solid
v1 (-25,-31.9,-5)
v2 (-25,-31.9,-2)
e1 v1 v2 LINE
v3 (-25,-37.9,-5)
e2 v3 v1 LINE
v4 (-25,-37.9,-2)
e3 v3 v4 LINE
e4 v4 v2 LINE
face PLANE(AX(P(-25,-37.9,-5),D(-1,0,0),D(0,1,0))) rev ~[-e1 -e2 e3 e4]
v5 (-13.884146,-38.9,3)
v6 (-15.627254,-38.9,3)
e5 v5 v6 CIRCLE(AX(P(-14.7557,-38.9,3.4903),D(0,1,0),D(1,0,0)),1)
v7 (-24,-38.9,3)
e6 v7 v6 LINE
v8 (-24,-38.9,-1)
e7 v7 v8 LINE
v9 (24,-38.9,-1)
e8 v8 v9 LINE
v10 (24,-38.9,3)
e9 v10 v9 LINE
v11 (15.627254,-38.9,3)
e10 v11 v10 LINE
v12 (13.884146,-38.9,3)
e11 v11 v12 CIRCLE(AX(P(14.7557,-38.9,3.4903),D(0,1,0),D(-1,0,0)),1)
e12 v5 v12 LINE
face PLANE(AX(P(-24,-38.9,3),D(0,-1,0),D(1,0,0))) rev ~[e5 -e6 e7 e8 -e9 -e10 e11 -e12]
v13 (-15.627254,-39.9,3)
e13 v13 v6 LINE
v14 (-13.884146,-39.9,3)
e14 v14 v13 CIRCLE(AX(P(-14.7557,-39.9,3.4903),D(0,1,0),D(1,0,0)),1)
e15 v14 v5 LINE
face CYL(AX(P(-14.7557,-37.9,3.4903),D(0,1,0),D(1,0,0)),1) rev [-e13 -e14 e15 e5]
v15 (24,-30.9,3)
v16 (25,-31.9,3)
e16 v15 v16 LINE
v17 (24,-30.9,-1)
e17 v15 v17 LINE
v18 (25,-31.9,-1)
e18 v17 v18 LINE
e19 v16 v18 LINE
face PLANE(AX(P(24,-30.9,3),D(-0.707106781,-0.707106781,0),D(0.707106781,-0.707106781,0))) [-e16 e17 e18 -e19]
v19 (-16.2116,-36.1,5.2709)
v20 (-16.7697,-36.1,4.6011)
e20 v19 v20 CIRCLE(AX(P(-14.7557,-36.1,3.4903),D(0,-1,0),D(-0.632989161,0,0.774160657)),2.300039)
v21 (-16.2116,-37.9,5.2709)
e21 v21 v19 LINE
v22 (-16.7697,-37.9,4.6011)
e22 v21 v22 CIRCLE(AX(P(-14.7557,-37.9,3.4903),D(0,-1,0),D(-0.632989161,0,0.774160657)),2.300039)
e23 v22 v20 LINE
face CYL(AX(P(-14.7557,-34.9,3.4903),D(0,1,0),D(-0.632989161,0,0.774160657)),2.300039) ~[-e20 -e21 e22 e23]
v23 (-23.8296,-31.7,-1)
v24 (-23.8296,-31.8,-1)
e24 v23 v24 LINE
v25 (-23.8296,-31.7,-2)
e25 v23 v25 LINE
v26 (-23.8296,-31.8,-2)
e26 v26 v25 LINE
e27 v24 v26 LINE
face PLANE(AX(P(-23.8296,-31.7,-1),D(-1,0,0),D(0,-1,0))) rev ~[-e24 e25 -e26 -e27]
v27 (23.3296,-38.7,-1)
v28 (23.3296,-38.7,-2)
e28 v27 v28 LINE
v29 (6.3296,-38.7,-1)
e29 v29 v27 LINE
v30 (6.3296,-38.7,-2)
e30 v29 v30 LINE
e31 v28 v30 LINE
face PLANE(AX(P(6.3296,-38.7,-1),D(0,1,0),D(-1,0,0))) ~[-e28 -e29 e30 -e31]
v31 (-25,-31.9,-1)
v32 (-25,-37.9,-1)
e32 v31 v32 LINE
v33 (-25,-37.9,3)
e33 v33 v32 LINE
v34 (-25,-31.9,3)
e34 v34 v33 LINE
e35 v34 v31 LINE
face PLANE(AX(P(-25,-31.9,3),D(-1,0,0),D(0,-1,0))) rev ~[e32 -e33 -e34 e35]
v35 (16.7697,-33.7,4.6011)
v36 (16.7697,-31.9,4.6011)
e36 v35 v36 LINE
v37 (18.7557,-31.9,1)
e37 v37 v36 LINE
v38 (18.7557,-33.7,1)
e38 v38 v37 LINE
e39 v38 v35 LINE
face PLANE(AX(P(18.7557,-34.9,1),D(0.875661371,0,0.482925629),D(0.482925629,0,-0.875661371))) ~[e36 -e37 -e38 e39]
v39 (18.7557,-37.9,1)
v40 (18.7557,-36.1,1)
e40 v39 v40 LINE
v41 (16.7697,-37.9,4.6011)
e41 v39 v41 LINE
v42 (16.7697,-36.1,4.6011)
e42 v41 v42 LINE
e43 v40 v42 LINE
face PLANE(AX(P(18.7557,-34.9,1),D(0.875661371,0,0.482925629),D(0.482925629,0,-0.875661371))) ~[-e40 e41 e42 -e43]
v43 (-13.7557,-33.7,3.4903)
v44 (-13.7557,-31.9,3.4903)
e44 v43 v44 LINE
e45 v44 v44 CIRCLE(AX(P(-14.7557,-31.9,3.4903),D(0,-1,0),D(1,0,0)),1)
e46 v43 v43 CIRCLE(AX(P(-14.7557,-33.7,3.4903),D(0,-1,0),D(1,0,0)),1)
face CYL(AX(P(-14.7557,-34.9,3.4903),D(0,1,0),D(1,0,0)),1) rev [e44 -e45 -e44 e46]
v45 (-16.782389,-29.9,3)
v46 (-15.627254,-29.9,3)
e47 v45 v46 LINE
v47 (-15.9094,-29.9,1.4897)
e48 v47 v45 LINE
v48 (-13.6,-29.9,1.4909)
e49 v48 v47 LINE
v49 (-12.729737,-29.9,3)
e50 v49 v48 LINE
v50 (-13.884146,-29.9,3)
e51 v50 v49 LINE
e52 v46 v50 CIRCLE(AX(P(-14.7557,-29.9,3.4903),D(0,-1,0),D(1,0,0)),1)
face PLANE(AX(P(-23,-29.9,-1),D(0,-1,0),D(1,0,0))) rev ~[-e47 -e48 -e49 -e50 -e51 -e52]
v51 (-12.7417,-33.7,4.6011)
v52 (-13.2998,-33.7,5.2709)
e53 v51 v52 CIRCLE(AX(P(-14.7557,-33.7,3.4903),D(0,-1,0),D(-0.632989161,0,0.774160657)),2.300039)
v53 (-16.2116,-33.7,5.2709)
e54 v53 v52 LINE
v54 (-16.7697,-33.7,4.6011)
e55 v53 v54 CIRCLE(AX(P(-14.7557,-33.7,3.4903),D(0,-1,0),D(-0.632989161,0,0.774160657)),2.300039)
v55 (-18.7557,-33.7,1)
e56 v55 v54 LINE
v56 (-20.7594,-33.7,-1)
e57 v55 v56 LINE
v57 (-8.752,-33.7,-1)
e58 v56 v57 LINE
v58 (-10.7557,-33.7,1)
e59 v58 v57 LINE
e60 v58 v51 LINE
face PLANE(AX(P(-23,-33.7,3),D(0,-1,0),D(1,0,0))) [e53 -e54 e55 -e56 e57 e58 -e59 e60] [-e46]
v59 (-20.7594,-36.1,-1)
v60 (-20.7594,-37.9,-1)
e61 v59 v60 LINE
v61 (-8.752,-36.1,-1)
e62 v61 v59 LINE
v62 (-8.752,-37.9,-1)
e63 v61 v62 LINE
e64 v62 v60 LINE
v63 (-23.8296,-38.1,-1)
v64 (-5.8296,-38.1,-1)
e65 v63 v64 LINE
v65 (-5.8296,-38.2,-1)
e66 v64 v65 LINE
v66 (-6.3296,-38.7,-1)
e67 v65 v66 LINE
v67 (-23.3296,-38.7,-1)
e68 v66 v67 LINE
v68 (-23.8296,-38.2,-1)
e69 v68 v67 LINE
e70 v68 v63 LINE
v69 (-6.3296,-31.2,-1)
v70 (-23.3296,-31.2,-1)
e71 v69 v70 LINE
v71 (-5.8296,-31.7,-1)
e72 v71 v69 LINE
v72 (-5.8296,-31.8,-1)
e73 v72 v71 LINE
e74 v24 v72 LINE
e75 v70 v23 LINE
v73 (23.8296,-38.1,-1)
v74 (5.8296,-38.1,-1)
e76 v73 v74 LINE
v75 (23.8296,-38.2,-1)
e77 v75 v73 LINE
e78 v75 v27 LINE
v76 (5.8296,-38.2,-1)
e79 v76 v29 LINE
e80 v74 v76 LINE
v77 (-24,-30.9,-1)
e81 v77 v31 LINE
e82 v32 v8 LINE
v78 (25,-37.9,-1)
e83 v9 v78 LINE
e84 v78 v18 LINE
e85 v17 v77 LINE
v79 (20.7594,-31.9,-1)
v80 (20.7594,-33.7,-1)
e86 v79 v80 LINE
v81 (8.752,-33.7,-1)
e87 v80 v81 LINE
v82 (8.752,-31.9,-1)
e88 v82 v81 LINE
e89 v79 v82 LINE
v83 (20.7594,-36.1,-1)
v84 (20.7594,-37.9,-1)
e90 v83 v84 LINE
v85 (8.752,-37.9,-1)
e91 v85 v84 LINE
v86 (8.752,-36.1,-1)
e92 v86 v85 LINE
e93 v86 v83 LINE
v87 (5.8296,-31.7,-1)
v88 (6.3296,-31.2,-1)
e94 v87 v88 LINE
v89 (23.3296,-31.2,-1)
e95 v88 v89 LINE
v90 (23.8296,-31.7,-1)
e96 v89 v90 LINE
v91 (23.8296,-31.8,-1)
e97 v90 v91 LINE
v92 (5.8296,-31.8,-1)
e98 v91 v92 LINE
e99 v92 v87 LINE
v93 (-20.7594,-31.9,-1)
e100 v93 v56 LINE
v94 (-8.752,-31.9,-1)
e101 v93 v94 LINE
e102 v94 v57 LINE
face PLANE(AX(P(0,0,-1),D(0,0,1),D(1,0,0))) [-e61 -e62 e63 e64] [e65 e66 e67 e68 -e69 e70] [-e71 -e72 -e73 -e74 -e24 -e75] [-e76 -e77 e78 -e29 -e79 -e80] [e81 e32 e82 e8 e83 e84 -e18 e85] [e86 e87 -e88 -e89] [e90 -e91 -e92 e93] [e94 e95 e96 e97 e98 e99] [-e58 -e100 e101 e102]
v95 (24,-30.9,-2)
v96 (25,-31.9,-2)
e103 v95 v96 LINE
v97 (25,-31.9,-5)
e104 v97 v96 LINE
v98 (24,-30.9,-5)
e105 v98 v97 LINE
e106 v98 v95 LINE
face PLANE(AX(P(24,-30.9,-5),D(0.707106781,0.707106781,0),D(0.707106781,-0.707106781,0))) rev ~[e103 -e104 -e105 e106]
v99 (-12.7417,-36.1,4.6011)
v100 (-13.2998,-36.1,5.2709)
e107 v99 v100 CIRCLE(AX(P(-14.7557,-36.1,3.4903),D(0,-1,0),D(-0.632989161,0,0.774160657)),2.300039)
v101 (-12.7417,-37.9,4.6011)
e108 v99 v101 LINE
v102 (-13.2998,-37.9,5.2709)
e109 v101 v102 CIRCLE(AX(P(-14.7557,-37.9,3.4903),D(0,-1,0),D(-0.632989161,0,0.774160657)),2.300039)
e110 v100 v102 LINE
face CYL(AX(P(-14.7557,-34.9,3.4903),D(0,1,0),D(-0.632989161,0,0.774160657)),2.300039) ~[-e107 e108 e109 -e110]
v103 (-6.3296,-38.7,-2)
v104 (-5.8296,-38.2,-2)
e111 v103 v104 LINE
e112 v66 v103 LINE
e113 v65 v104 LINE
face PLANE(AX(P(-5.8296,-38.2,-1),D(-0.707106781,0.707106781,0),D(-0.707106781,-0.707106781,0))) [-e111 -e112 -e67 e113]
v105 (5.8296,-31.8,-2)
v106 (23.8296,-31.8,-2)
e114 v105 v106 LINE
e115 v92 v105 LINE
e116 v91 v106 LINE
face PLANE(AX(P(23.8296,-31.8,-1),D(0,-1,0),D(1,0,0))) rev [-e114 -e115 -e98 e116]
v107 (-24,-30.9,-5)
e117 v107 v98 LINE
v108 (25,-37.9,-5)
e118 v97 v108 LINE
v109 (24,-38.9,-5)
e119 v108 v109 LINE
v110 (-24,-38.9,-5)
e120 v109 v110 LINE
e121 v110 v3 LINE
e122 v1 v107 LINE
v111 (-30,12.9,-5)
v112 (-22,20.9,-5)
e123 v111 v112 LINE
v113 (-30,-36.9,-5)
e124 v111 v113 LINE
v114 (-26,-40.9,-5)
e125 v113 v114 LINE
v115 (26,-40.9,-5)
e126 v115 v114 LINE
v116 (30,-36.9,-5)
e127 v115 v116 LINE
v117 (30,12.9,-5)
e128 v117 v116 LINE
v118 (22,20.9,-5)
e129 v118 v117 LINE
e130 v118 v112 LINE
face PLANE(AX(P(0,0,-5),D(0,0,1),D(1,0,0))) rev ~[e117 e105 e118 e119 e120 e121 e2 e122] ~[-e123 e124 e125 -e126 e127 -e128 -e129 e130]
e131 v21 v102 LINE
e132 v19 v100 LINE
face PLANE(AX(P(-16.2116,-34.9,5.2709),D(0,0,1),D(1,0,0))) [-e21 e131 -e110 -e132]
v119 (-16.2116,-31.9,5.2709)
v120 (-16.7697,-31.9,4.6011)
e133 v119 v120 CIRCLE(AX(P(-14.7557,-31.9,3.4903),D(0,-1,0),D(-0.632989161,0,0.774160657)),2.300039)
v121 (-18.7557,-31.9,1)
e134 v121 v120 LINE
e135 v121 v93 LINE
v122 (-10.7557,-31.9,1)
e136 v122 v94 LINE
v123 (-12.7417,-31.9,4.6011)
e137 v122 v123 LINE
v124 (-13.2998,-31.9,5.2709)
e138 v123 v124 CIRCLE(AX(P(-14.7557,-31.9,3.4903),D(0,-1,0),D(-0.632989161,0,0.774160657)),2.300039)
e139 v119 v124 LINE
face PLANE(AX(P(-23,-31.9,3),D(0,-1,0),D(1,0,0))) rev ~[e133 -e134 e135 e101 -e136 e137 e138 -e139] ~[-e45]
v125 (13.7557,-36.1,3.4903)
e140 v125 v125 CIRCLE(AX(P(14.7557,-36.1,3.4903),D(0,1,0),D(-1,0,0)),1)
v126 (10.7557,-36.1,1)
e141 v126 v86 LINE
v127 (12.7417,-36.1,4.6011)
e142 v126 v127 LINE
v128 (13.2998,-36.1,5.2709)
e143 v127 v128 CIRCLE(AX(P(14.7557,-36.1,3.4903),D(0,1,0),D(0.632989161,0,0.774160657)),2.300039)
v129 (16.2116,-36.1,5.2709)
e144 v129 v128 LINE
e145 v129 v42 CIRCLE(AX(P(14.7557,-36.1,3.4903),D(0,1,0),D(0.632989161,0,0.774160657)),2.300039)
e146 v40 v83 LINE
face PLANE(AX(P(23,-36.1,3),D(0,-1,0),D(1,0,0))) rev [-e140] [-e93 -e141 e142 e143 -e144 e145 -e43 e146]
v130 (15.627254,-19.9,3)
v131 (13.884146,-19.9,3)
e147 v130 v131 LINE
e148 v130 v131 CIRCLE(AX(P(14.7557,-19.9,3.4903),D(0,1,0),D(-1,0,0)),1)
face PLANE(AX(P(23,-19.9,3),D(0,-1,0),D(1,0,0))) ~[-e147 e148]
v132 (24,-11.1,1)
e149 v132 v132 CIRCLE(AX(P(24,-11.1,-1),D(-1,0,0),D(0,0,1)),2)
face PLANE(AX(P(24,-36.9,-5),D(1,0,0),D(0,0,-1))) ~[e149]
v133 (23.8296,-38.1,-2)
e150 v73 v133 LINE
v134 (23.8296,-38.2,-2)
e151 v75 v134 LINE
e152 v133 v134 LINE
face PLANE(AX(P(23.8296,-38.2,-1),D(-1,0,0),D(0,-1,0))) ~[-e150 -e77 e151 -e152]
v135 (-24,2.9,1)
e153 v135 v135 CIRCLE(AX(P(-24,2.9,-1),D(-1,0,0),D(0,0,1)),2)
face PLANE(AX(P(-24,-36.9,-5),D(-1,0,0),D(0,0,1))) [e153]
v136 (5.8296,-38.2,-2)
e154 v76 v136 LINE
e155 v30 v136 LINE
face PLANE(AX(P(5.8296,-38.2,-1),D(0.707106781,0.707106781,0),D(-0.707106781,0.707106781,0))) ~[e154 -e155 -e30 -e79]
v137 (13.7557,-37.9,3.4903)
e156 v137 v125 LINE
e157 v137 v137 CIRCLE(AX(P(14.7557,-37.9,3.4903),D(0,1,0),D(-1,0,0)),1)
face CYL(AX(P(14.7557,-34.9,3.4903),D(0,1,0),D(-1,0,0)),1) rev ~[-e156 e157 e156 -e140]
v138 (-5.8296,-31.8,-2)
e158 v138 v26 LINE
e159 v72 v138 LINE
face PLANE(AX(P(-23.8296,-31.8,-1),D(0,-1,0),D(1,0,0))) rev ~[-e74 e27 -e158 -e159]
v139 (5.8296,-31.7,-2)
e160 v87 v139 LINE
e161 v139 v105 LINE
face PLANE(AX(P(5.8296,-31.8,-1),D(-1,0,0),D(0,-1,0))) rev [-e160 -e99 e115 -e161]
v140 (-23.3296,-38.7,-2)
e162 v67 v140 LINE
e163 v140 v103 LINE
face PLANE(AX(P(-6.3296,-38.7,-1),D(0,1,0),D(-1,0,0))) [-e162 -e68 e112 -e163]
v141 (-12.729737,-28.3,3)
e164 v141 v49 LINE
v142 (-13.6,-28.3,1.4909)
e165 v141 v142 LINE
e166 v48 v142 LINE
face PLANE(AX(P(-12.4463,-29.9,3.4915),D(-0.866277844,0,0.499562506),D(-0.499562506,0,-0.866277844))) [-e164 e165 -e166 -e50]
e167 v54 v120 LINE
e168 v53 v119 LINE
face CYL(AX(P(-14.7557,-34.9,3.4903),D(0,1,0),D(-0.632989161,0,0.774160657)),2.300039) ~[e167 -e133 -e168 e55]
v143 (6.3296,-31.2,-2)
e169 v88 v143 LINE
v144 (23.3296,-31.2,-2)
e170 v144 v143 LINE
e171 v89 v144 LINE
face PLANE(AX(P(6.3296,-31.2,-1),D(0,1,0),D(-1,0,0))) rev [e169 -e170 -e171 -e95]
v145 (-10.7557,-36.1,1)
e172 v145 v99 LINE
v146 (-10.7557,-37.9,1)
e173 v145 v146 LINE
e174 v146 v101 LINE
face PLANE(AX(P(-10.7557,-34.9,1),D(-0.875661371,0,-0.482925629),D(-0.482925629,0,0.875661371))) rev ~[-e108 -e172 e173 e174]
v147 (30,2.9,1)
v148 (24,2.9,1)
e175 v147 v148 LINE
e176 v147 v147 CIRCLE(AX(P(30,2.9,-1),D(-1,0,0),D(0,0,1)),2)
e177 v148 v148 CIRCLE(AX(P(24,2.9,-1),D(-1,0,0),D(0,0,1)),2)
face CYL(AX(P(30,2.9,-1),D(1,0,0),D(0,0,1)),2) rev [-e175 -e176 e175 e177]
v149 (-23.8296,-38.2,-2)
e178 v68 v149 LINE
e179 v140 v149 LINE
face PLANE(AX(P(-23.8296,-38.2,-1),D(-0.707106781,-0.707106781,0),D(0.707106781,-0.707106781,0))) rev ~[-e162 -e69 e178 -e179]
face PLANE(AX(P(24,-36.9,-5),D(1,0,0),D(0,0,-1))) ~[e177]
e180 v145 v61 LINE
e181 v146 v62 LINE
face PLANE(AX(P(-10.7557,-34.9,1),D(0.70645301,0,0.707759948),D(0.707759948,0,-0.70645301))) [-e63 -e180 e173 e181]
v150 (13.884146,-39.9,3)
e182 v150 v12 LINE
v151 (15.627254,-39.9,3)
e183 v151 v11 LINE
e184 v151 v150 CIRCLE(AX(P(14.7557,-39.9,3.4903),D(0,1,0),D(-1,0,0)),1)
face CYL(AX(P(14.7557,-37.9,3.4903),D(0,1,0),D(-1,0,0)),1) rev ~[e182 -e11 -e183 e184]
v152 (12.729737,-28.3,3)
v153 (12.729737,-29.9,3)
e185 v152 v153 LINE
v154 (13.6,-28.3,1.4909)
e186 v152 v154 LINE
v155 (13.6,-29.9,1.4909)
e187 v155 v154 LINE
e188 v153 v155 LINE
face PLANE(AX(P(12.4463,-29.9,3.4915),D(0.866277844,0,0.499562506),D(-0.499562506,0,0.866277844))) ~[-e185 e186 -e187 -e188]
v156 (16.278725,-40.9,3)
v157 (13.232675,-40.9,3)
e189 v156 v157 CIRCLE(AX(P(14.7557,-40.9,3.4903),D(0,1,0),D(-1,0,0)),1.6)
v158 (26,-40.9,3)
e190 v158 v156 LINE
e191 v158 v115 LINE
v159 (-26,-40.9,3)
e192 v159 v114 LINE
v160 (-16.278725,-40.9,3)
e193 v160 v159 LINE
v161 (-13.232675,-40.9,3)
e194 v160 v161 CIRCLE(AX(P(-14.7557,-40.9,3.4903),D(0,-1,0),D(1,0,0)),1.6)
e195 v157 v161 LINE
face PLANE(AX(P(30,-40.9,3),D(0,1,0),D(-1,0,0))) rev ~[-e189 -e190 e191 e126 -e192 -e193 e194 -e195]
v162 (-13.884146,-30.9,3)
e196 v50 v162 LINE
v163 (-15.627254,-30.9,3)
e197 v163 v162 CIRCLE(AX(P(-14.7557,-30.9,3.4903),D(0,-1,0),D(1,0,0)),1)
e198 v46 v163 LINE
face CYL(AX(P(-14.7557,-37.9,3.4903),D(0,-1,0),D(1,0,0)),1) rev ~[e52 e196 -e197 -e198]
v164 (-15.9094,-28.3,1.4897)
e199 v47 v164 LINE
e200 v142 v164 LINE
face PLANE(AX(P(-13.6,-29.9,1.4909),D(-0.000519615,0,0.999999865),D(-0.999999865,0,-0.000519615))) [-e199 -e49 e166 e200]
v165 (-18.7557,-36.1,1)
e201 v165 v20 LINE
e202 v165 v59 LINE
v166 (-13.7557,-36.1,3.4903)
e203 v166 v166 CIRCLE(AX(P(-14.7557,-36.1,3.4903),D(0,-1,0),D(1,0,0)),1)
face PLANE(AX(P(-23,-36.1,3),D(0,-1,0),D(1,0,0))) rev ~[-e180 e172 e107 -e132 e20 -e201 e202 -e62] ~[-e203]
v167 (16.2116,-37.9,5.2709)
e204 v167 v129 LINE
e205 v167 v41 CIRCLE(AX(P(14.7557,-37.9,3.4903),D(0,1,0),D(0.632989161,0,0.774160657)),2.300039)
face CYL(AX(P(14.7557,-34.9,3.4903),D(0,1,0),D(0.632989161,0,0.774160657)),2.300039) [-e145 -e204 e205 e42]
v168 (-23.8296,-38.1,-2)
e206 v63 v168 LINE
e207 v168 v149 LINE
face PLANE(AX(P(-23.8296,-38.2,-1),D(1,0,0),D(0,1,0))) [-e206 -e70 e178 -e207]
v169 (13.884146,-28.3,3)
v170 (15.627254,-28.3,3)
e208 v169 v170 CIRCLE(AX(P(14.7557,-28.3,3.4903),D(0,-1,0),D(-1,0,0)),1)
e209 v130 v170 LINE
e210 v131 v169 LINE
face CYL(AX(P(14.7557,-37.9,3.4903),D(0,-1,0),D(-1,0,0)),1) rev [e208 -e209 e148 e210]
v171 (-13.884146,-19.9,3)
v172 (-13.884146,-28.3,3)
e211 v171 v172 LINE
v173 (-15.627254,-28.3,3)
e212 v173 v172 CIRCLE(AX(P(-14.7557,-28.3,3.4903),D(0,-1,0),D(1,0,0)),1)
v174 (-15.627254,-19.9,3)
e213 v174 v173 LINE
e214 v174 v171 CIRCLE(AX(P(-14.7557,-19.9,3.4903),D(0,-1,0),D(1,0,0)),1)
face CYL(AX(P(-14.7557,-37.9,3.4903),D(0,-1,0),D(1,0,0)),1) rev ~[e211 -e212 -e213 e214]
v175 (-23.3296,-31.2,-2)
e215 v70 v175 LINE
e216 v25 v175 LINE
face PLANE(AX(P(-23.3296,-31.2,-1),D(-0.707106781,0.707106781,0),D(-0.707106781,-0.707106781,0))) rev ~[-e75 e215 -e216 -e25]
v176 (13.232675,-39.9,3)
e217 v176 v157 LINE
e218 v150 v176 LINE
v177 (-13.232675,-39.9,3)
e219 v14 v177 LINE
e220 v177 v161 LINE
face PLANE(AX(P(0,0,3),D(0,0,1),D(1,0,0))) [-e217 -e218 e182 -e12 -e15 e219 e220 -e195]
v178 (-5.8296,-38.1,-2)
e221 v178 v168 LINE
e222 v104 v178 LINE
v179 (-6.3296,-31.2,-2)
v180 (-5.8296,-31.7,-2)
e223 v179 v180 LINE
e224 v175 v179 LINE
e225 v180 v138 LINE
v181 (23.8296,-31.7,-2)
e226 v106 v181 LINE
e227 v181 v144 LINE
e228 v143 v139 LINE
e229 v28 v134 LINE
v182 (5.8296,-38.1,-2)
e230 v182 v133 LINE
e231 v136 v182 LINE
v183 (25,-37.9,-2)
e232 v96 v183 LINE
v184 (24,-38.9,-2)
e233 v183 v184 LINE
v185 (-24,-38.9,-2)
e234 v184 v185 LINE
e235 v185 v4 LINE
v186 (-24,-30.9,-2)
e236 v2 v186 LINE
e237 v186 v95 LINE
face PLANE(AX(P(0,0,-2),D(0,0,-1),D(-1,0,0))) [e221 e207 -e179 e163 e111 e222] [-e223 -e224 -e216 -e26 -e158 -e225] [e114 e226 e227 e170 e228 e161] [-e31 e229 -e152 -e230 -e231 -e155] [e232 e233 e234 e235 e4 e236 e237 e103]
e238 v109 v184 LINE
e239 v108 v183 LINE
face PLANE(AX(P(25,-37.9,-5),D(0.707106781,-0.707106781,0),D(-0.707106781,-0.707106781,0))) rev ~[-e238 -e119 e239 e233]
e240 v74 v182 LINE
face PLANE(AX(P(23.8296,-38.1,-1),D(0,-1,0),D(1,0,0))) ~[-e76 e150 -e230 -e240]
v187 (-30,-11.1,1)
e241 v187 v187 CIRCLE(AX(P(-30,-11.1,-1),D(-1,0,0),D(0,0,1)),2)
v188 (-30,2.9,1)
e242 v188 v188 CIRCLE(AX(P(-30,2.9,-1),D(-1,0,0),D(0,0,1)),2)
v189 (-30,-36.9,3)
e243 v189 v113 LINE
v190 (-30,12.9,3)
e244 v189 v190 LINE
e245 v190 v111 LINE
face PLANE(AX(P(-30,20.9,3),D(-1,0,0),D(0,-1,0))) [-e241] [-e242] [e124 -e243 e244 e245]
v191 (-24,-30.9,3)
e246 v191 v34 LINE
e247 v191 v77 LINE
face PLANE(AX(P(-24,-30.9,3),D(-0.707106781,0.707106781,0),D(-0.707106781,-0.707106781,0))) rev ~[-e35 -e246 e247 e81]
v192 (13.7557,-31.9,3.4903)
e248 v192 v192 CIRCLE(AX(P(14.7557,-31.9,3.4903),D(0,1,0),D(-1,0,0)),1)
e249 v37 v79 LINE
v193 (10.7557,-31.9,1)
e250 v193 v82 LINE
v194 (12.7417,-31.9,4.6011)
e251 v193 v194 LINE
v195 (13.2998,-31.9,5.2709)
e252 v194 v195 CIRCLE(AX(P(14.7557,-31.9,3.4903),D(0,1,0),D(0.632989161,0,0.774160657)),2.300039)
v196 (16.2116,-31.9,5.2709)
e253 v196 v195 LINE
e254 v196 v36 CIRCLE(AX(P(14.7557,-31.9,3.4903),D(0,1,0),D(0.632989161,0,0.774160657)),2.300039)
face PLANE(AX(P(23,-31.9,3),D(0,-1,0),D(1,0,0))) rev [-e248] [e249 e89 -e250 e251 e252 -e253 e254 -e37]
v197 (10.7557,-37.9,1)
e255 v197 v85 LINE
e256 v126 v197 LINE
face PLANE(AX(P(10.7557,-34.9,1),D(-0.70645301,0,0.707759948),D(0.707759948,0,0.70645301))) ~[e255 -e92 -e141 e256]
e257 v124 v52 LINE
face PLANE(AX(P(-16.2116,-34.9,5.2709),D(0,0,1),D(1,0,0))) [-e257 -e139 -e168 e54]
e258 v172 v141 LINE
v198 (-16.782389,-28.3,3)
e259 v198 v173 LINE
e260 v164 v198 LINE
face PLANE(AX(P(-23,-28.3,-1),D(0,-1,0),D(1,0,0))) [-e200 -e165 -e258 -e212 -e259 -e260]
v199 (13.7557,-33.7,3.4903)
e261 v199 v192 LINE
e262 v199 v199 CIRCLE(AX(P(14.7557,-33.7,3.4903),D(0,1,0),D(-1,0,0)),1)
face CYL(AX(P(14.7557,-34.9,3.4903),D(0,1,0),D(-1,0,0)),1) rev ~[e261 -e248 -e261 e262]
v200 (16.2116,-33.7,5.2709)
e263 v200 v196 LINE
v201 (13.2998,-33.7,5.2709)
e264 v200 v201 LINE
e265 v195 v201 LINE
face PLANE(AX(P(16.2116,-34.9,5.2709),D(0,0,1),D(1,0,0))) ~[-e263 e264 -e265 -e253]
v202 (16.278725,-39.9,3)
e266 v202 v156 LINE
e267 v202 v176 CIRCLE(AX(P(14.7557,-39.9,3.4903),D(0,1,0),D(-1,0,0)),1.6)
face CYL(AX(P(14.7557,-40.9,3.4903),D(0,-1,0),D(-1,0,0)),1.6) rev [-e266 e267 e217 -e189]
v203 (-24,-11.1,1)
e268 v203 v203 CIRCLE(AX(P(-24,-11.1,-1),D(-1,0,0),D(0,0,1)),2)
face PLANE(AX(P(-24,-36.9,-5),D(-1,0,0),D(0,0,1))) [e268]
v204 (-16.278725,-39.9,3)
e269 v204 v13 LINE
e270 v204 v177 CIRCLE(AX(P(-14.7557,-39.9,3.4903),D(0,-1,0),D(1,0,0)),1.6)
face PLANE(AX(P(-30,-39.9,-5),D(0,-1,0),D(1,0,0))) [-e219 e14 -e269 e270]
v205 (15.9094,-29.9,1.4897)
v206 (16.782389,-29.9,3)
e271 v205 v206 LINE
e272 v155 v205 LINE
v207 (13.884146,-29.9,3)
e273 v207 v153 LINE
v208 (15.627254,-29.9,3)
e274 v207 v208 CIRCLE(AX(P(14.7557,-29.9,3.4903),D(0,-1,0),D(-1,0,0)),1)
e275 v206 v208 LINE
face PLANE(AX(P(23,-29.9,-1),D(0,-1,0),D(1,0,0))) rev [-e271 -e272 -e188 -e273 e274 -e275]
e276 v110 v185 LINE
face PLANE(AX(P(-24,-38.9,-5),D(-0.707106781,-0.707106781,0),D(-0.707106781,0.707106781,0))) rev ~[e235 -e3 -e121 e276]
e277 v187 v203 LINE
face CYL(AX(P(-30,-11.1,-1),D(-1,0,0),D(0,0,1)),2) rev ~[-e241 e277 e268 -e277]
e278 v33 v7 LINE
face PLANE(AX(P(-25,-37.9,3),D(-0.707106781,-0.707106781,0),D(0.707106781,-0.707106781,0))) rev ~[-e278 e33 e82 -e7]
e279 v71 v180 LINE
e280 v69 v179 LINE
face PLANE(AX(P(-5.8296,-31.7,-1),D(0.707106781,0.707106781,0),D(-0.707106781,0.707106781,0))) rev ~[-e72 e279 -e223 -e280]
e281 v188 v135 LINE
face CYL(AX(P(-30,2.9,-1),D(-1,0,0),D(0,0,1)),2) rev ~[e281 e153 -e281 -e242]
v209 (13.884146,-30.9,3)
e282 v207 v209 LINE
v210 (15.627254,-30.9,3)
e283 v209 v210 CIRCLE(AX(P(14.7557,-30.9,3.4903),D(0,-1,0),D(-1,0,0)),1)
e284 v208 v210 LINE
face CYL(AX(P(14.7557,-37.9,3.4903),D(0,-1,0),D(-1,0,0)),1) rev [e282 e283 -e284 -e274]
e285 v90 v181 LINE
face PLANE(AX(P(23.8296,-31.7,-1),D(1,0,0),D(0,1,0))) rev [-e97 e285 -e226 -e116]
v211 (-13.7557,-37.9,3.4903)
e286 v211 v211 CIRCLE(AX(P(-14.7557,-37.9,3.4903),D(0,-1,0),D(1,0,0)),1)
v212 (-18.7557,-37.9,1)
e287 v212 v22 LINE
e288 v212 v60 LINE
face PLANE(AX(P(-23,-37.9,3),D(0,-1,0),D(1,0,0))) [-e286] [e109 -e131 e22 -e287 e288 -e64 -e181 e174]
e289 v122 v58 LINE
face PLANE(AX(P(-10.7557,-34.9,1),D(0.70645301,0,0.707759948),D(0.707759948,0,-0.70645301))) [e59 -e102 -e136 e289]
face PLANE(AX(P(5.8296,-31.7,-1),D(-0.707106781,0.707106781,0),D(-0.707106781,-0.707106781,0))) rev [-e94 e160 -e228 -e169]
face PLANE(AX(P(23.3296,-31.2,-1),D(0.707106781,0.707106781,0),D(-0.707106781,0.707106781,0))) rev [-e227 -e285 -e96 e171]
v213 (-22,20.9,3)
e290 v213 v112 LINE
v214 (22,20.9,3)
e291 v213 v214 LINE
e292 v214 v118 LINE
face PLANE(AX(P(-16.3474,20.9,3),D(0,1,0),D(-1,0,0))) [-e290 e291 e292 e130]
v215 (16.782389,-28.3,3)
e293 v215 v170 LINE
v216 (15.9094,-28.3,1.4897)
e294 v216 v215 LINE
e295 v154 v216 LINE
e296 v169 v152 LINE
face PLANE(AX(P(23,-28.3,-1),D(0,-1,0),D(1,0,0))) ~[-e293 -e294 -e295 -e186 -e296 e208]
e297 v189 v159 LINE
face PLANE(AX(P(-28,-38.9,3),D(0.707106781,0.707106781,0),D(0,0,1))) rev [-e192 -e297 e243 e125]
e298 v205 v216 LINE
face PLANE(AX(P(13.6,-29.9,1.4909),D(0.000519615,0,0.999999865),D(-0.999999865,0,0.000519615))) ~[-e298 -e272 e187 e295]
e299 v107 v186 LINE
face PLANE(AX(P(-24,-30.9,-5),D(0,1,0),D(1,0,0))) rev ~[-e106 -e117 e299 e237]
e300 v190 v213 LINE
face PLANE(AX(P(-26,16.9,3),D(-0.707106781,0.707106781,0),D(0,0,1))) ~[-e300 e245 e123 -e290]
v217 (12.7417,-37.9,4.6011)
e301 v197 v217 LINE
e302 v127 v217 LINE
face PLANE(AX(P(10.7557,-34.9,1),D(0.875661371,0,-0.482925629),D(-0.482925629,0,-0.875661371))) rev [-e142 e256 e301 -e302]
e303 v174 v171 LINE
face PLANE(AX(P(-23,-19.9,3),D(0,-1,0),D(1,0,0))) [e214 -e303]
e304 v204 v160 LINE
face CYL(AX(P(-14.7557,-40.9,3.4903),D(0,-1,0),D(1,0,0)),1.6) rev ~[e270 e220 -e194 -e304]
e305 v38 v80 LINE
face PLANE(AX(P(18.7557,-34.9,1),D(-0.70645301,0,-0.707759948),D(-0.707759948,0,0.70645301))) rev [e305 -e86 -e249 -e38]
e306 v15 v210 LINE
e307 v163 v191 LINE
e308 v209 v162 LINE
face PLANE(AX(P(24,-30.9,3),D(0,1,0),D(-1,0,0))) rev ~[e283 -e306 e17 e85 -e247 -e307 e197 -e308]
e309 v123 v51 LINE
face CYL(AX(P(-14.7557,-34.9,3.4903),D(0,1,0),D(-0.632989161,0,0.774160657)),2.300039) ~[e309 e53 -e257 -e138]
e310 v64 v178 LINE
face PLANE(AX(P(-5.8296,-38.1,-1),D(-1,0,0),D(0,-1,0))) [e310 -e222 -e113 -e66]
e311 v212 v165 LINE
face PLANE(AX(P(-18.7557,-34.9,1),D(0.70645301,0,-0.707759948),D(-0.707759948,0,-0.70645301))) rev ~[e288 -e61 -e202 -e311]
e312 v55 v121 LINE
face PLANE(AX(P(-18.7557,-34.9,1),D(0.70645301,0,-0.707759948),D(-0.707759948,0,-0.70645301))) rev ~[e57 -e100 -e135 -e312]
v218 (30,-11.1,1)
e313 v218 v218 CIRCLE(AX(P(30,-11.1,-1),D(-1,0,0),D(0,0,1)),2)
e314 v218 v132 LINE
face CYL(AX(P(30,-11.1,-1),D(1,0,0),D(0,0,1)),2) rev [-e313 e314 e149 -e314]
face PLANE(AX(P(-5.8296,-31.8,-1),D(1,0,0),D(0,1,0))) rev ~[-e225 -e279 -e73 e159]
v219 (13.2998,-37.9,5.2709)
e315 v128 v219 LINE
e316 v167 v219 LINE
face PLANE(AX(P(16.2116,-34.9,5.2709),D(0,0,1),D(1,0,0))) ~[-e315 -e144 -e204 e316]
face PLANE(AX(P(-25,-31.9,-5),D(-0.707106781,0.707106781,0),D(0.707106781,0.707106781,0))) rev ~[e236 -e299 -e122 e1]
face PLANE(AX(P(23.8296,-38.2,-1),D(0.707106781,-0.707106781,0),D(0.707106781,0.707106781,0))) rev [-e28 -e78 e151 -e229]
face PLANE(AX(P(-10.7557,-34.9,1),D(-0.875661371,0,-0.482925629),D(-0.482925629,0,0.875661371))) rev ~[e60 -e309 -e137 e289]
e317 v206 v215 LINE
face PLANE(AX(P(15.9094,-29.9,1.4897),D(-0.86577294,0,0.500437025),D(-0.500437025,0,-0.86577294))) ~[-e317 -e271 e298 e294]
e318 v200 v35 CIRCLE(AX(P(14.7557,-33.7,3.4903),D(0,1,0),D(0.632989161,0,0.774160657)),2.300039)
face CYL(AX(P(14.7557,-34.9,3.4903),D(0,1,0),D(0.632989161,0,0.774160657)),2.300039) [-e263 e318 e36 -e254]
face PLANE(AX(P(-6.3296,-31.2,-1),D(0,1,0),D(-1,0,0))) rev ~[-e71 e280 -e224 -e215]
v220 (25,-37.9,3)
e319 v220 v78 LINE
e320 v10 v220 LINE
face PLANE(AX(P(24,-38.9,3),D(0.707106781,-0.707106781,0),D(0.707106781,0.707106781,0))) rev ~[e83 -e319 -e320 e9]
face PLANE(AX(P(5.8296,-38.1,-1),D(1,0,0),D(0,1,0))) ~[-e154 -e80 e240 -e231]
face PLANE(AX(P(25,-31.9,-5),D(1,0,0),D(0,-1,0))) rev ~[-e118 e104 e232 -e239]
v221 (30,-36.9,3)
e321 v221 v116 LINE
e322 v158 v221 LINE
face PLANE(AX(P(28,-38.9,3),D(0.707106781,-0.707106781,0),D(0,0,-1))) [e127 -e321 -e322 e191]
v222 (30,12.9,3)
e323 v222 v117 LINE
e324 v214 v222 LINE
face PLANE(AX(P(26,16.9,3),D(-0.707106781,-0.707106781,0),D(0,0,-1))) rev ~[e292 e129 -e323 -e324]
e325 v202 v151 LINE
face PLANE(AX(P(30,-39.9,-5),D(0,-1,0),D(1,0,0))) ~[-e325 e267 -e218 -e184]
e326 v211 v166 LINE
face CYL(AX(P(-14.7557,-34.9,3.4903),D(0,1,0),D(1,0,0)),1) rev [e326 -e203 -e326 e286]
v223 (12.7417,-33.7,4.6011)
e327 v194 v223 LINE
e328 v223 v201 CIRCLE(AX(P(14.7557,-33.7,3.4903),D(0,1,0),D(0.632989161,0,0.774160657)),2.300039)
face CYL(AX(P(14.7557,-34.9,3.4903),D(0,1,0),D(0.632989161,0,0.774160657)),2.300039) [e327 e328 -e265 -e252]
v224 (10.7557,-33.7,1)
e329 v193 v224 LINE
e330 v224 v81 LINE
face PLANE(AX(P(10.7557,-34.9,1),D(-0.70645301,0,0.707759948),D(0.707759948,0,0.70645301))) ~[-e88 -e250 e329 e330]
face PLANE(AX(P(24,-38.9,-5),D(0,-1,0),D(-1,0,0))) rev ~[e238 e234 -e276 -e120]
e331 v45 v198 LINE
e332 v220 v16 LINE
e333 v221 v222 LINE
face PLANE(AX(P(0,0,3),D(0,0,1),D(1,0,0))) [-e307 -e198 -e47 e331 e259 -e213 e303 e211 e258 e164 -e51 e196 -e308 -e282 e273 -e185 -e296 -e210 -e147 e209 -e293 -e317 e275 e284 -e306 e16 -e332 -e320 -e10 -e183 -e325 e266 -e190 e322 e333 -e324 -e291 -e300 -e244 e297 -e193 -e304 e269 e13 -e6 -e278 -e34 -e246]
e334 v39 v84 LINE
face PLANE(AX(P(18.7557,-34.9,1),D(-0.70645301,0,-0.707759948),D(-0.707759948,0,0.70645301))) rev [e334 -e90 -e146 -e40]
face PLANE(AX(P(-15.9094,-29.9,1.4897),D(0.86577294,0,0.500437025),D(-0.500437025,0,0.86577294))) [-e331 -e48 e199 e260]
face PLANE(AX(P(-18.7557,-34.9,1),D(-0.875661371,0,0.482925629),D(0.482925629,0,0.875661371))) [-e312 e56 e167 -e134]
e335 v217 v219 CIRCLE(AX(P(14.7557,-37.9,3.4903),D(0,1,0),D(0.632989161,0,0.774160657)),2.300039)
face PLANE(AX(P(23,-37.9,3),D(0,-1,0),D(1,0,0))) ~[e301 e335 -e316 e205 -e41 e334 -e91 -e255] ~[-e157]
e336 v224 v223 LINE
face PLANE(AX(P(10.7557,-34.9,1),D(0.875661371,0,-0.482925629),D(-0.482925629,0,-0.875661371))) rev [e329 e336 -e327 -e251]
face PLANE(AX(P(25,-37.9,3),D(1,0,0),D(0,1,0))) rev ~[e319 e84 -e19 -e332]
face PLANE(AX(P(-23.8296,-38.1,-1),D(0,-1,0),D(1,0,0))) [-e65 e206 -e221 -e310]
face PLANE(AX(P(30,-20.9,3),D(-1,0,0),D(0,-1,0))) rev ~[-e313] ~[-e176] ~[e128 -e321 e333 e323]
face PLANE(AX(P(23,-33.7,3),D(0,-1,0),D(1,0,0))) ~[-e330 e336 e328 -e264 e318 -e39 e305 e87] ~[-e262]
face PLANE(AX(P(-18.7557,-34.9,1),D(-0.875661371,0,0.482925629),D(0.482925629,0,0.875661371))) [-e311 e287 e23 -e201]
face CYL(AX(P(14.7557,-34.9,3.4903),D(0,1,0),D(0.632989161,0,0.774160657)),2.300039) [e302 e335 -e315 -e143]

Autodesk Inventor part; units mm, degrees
sketch "Эскиз1" plane through (0, 0, 0) normal (0, 0, 1) x (1, 0, 0)
  line L0 (16.9838, 20.6364) -> (20.6364, 16.9838) projected
  arc A0 (16.9838, 20.6364) -> (16.3474, 20.9) centre (16.3474, 20) ccw projected
  line L1 (-16.3474, 20.9) -> (16.3474, 20.9) projected
  arc A1 (-16.3474, 20.9) -> (-16.9838, 20.6364) centre (-16.3474, 20) ccw projected
  line L2 (-20.6364, 16.9838) -> (-16.9838, 20.6364) projected
  arc A2 (-20.6364, 16.9838) -> (-20.9, 16.3474) centre (-20, 16.3474) ccw projected
  line L3 (-20.9, -16.3474) -> (-20.9, 16.3474) projected
  arc A3 (-20.9, -16.3474) -> (-20.6364, -16.9838) centre (-20, -16.3474) ccw projected
  line L4 (-16.9838, -20.6364) -> (-20.6364, -16.9838) projected
  arc A4 (-16.9838, -20.6364) -> (-16.3474, -20.9) centre (-16.3474, -20) ccw projected
  line L5 (16.3474, -20.9) -> (-16.3474, -20.9) projected
  arc A5 (16.3474, -20.9) -> (16.9838, -20.6364) centre (16.3474, -20) ccw projected
  line L6 (20.6364, -16.9838) -> (16.9838, -20.6364) projected
  arc A6 (20.6364, -16.9838) -> (20.9, -16.3474) centre (20, -16.3474) ccw projected
  line L7 (20.9, 16.3474) -> (20.9, -16.3474) projected
  arc A7 (20.9, 16.3474) -> (20.6364, 16.9838) centre (20, 16.3474) ccw projected
  circle A8 centre (15.5574, -15.5574) radius 1.45 projected
  circle A9 centre (0, 0) radius 11 projected
  circle A10 centre (-15.5574, -15.5574) radius 1.45 projected
  circle A11 centre (-15.5574, 15.5574) radius 1.45 projected
  circle A12 centre (15.5574, 15.5574) radius 1.45 projected
  point P0 (0, 0)
extrude "Выдавливание1" add sketch "Эскиз1" along normal blind 3
sketch "Эскиз2" plane through (0, 0, 3) normal (0, 0, 1) x (1, 0, 0)
  line L0 (16.3474, 20.9) -> (-16.3474, 20.9) construction
  line L1 (-30, -20.9) -> (30, -20.9)
  line L2 (30, -20.9) -> (30, 20.9)
  line L3 (30, 20.9) -> (-30, 20.9)
  line L4 (-30, 20.9) -> (-30, -20.9)
  circle A0 centre (0, 0) radius 11 construction
  line L5 (-30, -20.9) -> (30, 20.9) construction
  line L6 (30, -20.9) -> (-30, 20.9) construction
  line L7 (-30, -20.9) -> (30, -20.9)
  line L8 (30, -20.9) -> (30, -40.9)
  line L9 (30, -40.9) -> (-30, -40.9)
  line L10 (-30, -40.9) -> (-30, -20.9)
  line L11 (-16.9838, 20.6364) -> (-20.6364, 16.9838) projected
  arc A1 (-20.6364, 16.9838) -> (-20.9, 16.3474) centre (-20, 16.3474) ccw projected
  line L12 (-20.9, 16.3474) -> (-20.9, -16.3474) projected
  arc A2 (-20.9, -16.3474) -> (-20.6364, -16.9838) centre (-20, -16.3474) ccw projected
  line L13 (-20.6364, -16.9838) -> (-16.9838, -20.6364) projected
  arc A3 (-16.9838, -20.6364) -> (-16.3474, -20.9) centre (-16.3474, -20) ccw projected
  line L14 (-16.3474, -20.9) -> (16.3474, -20.9) projected
  arc A4 (16.3474, -20.9) -> (16.9838, -20.6364) centre (16.3474, -20) ccw projected
  line L15 (16.9838, -20.6364) -> (20.6364, -16.9838) projected
  arc A5 (20.6364, -16.9838) -> (20.9, -16.3474) centre (20, -16.3474) ccw projected
  line L16 (20.9, -16.3474) -> (20.9, 16.3474) projected
  arc A6 (20.9, 16.3474) -> (20.6364, 16.9838) centre (20, 16.3474) ccw projected
  line L17 (20.6364, 16.9838) -> (16.9838, 20.6364) projected
  arc A7 (16.9838, 20.6364) -> (16.3474, 20.9) centre (16.3474, 20) ccw projected
  line L18 (16.3474, 20.9) -> (-16.3474, 20.9) projected
  arc A8 (-16.3474, 20.9) -> (-16.9838, 20.6364) centre (-16.3474, 20) ccw projected
  circle A9 centre (0, 0) radius 11 construction
  circle A10 centre (15.5574, 15.5574) radius 1.45 construction
  circle A11 centre (-15.5574, 15.5574) radius 1.45 construction
  circle A12 centre (-15.5574, -15.5574) radius 1.45 construction
  circle A13 centre (15.5574, -15.5574) radius 1.45 construction
  dimension "d4" = 60
  dimension "d5" = 60
  dimension "d6" = 20
extrude "Выдавливание2" add sketch "Эскиз2" against normal blind 8
sketch "Эскиз5" plane through (0, 0, 3) normal (0, 0, 1) x (1, 0, 0)
  line L0 (30, -40.9) -> (-30, -40.9) construction
  line L1 (0, -40.9) -> (0, 20.9) construction
  line L2 (24, -30.9) -> (-24, -30.9)
  line L3 (-25, -31.9) -> (-25, -37.9)
  line L4 (-24, -38.9) -> (24, -38.9)
  line L5 (25, -37.9) -> (25, -31.9)
  line L6 (25, -30.9) -> (-25, -38.9) construction
  line L7 (-25, -30.9) -> (25, -38.9) construction
  line L8 (24, -30.9) -> (25, -31.9)
  line L9 (24, -38.9) -> (25, -37.9)
  line L10 (-25, -37.9) -> (-24, -38.9)
  line L11 (-24, -30.9) -> (-25, -31.9)
  point P0 (0, 0)
  point P1 (0, -34.9)
  dimension "d29" = 50
  dimension "d30" = 8
  dimension "d33" = 2
  dimension "d91" = 1
  dimension "d92" = 1
  dimension "d93" = 1
  dimension "d94" = 1
  dimension "d95" = 1
  dimension "d96" = 1
  dimension "d97" = 1
  dimension "d98" = 1
extrude "Выдавливание5" cut sketch "Эскиз5" against normal blind 4
ref_plane "РабПлоскость2" through (-23, -34.9, 3) normal (0, -1, 0) x (1, 0, 0)
sketch "Эскиз6" plane through (-23, -34.9, 3) normal (0, -1, 0) x (1, 0, 0)
  line L0 (-7, -8) -> (53, -8) construction
  line L1 (-7, -8) -> (53, -8) construction
  line L2 (53, -8) -> (53, -4) construction
  line L3 (53, -4) -> (-7, -4) construction
  line L4 (-7, -4) -> (-7, -8) construction
  line L5 (-7, -4) -> (8, -4) construction
  line L6 (8, -4) -> (8, -1.7967) construction
  line L7 (8, -1.7967) -> (-7, -1.7967) construction
  line L8 (-7, -1.7967) -> (-7, -4) construction
  circle A0 centre (8.2443, 0.4903) radius 1
  line L9 (-1, -4) -> (47, -4) projected
  line L10 (4.2443, -4) -> (12.2443, -4)
  line L11 (12.2443, -4) -> (12.2443, -2)
  line L12 (12.2443, -2) -> (4.2443, -2)
  line L13 (4.2443, -2) -> (4.2443, -4)
  line L14 (8.2443, 0.4903) -> (8.2443, -4) construction
  line L15 (4.2443, -2) -> (6.2303, 1.6011)
  line L16 (12.2443, -2) -> (10.2583, 1.6011)
  line L17 (4.2443, -2) -> (2.2406, -4)
  line L18 (4.2443, -2) -> (7.0754, -2) construction
  line L19 (12.2443, -2) -> (14.248, -4)
  arc A1 (10.2583, 1.6011) -> (6.2303, 1.6011) centre (8.2443, 0.4903) ccw construction
  arc A2 (6.7884, 2.2709) -> (9.7002, 2.2709) centre (8.2443, 0.4903) ccw
  line L20 (6.7884, 2.2709) -> (9.7002, 2.2709)
  point P0 (23, -3)
  point P1 (6.6526, -8)
  point P2 (8.2443, -2)
  point P3 (2.2406, -4)
  point P4 (6.2303, 1.6011)
  dimension "d36" = 4
  dimension "d37" = 15
  dimension "d40" = 2
  dimension "d41" = 8
  dimension "d42" = 2
  dimension "d61" = 4.4903
extrude "Выдавливание6" add sketch "Эскиз6" along normal mid plane 6
extrude "Выдавливание7" cut sketch "Эскиз6" along normal mid plane 2.4
ref_plane "РабПлоскость3" through (0, -36.9, 3) normal (1, 0, 0) x (0, 0, -1)
sketch "Эскиз8" plane through (-23, -37.9, 3) normal (0, -1, 0) x (1, 0, 0)
  circle A0 centre (8.2443, 0.4903) radius 1 projected
  circle A1 centre (8.2443, 0.4903) radius 1 projected
  point P0 (23, -3)
extrude "Выдавливание8" cut sketch "Эскиз8" along normal blind 3 and the other way blind 18
sketch "Эскиз9" plane through (-30, -40.9, -5) normal (0, -1, 0) x (1, 0, 0)
  arc A0 (16.2443, 8.4903) -> (16.2443, 8.4903) centre (15.2443, 8.4903) ccw construction
  circle A1 centre (15.2443, 8.4903) radius 1.6
  point P0 (30, 5)
  dimension "d54" = 3.2
extrude "Выдавливание9" cut sketch "Эскиз9" against normal blind 1
ref_plane "РабПлоскость4" through (-23, -29.9, -1) normal (0, -1, 0) x (1, 0, 0)
sketch "Эскиз10" plane through (-23, -29.9, -1) normal (0, -1, 0) x (1, 0, 0)
  circle A0 centre (8.2443, 4.4903) radius 1 construction
  line L0 (7.0906, 2.4897) -> (5.9349, 4.4891)
  line L1 (5.9349, 4.4891) -> (7.0886, 6.4897)
  line L2 (7.0886, 6.4897) -> (9.398, 6.4909)
  line L3 (9.398, 6.4909) -> (10.5537, 4.4915)
  line L4 (10.5537, 4.4915) -> (9.4, 2.4909)
  line L5 (9.4, 2.4909) -> (7.0906, 2.4897)
  point P0 (23, 1)
  dimension "d58" = 4
extrude "Выдавливание10" cut sketch "Эскиз10" against normal blind 1.6
mirror "Зеркальное отражение1" about plane through (0, -36.9, 3) normal (1, 0, 0) of "Выдавливание6", "Выдавливание7", "Выдавливание8", "Выдавливание10", "Выдавливание9"
sketch "Эскиз11" plane through (0, 0, -5) normal (0, 0, -1) x (-1, 0, 0)
  line L0 (-8.752, -33.7) -> (-8.752, -31.9) construction
  line L1 (-8.752, -31.9) -> (-20.7594, -31.9) construction
  line L2 (-20.7594, -31.9) -> (-20.7594, -33.7) construction
  line L3 (-8.752, -33.7) -> (-20.7594, -33.7) construction
  line L4 (-20.7594, -36.1) -> (-8.752, -36.1) construction
  line L5 (-20.7594, -36.1) -> (-20.7594, -37.9) construction
  line L6 (-20.7594, -37.9) -> (-8.752, -37.9) construction
  line L7 (-8.752, -37.9) -> (-8.752, -36.1) construction
  line L8 (8.752, -36.1) -> (8.752, -37.9) construction
  line L9 (8.752, -37.9) -> (20.7594, -37.9) construction
  line L10 (20.7594, -37.9) -> (20.7594, -36.1) construction
  line L11 (20.7594, -36.1) -> (8.752, -36.1) construction
  line L12 (8.752, -33.7) -> (20.7594, -33.7) construction
  line L13 (20.7594, -33.7) -> (20.7594, -31.9) construction
  line L14 (20.7594, -31.9) -> (8.752, -31.9) construction
  line L15 (8.752, -31.9) -> (8.752, -33.7) construction
  line L16 (25, -37.9) -> (25, -31.9) projected
  line L17 (-24, -38.9) -> (24, -38.9) projected
  line L18 (-25, -31.9) -> (-25, -37.9) projected
  line L19 (24, -30.9) -> (-24, -30.9) projected
  line L20 (25, -31.9) -> (24, -30.9) projected
  line L21 (24, -38.9) -> (25, -37.9) projected
  line L22 (-25, -37.9) -> (-24, -38.9) projected
  line L23 (-24, -30.9) -> (-25, -31.9) projected
  point P0 (0, 0)
  point P1 (25, -38.9)
  point P2 (-25, -30.9)
  point P3 (-25, -38.9)
  point P4 (25, -30.9)
extrude "Выдавливание11" cut sketch "Эскиз11" against normal blind 3
sketch "Эскиз12" plane through (0, 0, -1) normal (0, 0, 1) x (1, 0, 0)
  line L0 (-12.3296, -33.8) -> (-17.3296, -33.8) construction
  line L1 (-12.3296, -36.1) -> (-17.3296, -36.1) construction
  line L2 (-12.3296, -33.8) -> (-17.3296, -33.8) construction
  line L3 (-12.3296, -36.1) -> (-17.3296, -36.1) construction
  line L4 (-17.3296, -33.8) -> (-12.3296, -36.1) construction
  line L5 (-5.8296, -38.1) -> (-23.8296, -38.1) construction
  line L6 (-23.8296, -38.1) -> (-23.8296, -31.8) construction
  line L7 (-23.8296, -31.8) -> (-5.8296, -31.8) construction
  line L8 (-5.8296, -31.8) -> (-5.8296, -38.1) construction
  line L9 (-5.8296, -38.1) -> (-23.8296, -31.8) construction
  line L10 (-23.8296, -38.1) -> (-5.8296, -31.8) construction
  line L11 (-23.8296, -31.8) -> (-5.8296, -31.8)
  line L12 (-5.8296, -31.8) -> (-5.8296, -31.7)
  line L13 (-6.3296, -31.2) -> (-23.3296, -31.2)
  line L14 (-23.8296, -31.7) -> (-23.8296, -31.8)
  line L15 (-23.8296, -38.1) -> (-5.8296, -38.1)
  line L16 (-5.8296, -38.1) -> (-5.8296, -38.2)
  line L17 (-6.3296, -38.7) -> (-23.3296, -38.7)
  line L18 (-23.8296, -38.2) -> (-23.8296, -38.1)
  line L19 (-5.8296, -31.7) -> (-6.3296, -31.2)
  line L20 (-23.3296, -31.2) -> (-23.8296, -31.7)
  line L21 (-23.8296, -38.2) -> (-23.3296, -38.7)
  line L22 (-5.8296, -38.2) -> (-6.3296, -38.7)
  point P0 (0, 0)
  point P1 (-14.8296, -34.95)
  point P2 (-5.8296, -31.2)
  point P3 (-23.8296, -31.2)
  point P4 (-5.8296, -38.7)
  point P5 (-23.8296, -38.7)
  dimension "d73" = 18
  dimension "d74" = 6.3
  dimension "d75" = 18
  dimension "d76" = 0.6
  dimension "d77" = 18
  dimension "d78" = 0.6
extrude "Выдавливание12" cut sketch "Эскиз12" against normal blind 3
mirror "Зеркальное отражение2" about plane through (0, -36.9, 3) normal (1, 0, 0) of "Выдавливание12"
chamfer "Фаска1" distance 4 angle 45 2 edges at (30, -40.9, -1) (-30, -40.9, -1)
chamfer "Фаска2" distance 8 angle 45 2 edges at (30, 20.9, -1) (-30, 20.9, -1)
sketch "Эскиз14" plane through (-30, -36.9, -5) normal (-1, 0, 0) x (0, 0, 1)
  line L0 (0, 49.8) -> (8, 49.8) construction
  line L1 (0, 0) -> (0, 49.8) construction
  line L2 (8, 0) -> (0, 0) construction
  line L3 (8, 49.8) -> (8, 0) construction
  line L4 (8, 49.8) -> (0, 49.8) projected
  line L5 (4, 49.8) -> (4, 0) construction
  line L6 (8, 0) -> (0, 0) projected
  circle A0 centre (4, 39.8) radius 2
  circle A1 centre (4, 25.8) radius 2
  dimension "d107" = 4
  dimension "d108" = 4
  dimension "d109" = 10
  dimension "d113" = 14
extrude "Выдавливание13" cut sketch "Эскиз14" against normal blind 6
mirror "Зеркальное отражение3" about plane through (0, -36.9, 3) normal (1, 0, 0) of "Выдавливание13"
equation "\"d92\" = d91"
equation "\"d93\" = d91"
equation "\"d94\" = d93"
equation "\"d95\" = d91"
equation "\"d96\" = d95"
equation "\"d97\" = d91"
equation "\"d98\" = d97"
properties part number "каретка_без_м"
